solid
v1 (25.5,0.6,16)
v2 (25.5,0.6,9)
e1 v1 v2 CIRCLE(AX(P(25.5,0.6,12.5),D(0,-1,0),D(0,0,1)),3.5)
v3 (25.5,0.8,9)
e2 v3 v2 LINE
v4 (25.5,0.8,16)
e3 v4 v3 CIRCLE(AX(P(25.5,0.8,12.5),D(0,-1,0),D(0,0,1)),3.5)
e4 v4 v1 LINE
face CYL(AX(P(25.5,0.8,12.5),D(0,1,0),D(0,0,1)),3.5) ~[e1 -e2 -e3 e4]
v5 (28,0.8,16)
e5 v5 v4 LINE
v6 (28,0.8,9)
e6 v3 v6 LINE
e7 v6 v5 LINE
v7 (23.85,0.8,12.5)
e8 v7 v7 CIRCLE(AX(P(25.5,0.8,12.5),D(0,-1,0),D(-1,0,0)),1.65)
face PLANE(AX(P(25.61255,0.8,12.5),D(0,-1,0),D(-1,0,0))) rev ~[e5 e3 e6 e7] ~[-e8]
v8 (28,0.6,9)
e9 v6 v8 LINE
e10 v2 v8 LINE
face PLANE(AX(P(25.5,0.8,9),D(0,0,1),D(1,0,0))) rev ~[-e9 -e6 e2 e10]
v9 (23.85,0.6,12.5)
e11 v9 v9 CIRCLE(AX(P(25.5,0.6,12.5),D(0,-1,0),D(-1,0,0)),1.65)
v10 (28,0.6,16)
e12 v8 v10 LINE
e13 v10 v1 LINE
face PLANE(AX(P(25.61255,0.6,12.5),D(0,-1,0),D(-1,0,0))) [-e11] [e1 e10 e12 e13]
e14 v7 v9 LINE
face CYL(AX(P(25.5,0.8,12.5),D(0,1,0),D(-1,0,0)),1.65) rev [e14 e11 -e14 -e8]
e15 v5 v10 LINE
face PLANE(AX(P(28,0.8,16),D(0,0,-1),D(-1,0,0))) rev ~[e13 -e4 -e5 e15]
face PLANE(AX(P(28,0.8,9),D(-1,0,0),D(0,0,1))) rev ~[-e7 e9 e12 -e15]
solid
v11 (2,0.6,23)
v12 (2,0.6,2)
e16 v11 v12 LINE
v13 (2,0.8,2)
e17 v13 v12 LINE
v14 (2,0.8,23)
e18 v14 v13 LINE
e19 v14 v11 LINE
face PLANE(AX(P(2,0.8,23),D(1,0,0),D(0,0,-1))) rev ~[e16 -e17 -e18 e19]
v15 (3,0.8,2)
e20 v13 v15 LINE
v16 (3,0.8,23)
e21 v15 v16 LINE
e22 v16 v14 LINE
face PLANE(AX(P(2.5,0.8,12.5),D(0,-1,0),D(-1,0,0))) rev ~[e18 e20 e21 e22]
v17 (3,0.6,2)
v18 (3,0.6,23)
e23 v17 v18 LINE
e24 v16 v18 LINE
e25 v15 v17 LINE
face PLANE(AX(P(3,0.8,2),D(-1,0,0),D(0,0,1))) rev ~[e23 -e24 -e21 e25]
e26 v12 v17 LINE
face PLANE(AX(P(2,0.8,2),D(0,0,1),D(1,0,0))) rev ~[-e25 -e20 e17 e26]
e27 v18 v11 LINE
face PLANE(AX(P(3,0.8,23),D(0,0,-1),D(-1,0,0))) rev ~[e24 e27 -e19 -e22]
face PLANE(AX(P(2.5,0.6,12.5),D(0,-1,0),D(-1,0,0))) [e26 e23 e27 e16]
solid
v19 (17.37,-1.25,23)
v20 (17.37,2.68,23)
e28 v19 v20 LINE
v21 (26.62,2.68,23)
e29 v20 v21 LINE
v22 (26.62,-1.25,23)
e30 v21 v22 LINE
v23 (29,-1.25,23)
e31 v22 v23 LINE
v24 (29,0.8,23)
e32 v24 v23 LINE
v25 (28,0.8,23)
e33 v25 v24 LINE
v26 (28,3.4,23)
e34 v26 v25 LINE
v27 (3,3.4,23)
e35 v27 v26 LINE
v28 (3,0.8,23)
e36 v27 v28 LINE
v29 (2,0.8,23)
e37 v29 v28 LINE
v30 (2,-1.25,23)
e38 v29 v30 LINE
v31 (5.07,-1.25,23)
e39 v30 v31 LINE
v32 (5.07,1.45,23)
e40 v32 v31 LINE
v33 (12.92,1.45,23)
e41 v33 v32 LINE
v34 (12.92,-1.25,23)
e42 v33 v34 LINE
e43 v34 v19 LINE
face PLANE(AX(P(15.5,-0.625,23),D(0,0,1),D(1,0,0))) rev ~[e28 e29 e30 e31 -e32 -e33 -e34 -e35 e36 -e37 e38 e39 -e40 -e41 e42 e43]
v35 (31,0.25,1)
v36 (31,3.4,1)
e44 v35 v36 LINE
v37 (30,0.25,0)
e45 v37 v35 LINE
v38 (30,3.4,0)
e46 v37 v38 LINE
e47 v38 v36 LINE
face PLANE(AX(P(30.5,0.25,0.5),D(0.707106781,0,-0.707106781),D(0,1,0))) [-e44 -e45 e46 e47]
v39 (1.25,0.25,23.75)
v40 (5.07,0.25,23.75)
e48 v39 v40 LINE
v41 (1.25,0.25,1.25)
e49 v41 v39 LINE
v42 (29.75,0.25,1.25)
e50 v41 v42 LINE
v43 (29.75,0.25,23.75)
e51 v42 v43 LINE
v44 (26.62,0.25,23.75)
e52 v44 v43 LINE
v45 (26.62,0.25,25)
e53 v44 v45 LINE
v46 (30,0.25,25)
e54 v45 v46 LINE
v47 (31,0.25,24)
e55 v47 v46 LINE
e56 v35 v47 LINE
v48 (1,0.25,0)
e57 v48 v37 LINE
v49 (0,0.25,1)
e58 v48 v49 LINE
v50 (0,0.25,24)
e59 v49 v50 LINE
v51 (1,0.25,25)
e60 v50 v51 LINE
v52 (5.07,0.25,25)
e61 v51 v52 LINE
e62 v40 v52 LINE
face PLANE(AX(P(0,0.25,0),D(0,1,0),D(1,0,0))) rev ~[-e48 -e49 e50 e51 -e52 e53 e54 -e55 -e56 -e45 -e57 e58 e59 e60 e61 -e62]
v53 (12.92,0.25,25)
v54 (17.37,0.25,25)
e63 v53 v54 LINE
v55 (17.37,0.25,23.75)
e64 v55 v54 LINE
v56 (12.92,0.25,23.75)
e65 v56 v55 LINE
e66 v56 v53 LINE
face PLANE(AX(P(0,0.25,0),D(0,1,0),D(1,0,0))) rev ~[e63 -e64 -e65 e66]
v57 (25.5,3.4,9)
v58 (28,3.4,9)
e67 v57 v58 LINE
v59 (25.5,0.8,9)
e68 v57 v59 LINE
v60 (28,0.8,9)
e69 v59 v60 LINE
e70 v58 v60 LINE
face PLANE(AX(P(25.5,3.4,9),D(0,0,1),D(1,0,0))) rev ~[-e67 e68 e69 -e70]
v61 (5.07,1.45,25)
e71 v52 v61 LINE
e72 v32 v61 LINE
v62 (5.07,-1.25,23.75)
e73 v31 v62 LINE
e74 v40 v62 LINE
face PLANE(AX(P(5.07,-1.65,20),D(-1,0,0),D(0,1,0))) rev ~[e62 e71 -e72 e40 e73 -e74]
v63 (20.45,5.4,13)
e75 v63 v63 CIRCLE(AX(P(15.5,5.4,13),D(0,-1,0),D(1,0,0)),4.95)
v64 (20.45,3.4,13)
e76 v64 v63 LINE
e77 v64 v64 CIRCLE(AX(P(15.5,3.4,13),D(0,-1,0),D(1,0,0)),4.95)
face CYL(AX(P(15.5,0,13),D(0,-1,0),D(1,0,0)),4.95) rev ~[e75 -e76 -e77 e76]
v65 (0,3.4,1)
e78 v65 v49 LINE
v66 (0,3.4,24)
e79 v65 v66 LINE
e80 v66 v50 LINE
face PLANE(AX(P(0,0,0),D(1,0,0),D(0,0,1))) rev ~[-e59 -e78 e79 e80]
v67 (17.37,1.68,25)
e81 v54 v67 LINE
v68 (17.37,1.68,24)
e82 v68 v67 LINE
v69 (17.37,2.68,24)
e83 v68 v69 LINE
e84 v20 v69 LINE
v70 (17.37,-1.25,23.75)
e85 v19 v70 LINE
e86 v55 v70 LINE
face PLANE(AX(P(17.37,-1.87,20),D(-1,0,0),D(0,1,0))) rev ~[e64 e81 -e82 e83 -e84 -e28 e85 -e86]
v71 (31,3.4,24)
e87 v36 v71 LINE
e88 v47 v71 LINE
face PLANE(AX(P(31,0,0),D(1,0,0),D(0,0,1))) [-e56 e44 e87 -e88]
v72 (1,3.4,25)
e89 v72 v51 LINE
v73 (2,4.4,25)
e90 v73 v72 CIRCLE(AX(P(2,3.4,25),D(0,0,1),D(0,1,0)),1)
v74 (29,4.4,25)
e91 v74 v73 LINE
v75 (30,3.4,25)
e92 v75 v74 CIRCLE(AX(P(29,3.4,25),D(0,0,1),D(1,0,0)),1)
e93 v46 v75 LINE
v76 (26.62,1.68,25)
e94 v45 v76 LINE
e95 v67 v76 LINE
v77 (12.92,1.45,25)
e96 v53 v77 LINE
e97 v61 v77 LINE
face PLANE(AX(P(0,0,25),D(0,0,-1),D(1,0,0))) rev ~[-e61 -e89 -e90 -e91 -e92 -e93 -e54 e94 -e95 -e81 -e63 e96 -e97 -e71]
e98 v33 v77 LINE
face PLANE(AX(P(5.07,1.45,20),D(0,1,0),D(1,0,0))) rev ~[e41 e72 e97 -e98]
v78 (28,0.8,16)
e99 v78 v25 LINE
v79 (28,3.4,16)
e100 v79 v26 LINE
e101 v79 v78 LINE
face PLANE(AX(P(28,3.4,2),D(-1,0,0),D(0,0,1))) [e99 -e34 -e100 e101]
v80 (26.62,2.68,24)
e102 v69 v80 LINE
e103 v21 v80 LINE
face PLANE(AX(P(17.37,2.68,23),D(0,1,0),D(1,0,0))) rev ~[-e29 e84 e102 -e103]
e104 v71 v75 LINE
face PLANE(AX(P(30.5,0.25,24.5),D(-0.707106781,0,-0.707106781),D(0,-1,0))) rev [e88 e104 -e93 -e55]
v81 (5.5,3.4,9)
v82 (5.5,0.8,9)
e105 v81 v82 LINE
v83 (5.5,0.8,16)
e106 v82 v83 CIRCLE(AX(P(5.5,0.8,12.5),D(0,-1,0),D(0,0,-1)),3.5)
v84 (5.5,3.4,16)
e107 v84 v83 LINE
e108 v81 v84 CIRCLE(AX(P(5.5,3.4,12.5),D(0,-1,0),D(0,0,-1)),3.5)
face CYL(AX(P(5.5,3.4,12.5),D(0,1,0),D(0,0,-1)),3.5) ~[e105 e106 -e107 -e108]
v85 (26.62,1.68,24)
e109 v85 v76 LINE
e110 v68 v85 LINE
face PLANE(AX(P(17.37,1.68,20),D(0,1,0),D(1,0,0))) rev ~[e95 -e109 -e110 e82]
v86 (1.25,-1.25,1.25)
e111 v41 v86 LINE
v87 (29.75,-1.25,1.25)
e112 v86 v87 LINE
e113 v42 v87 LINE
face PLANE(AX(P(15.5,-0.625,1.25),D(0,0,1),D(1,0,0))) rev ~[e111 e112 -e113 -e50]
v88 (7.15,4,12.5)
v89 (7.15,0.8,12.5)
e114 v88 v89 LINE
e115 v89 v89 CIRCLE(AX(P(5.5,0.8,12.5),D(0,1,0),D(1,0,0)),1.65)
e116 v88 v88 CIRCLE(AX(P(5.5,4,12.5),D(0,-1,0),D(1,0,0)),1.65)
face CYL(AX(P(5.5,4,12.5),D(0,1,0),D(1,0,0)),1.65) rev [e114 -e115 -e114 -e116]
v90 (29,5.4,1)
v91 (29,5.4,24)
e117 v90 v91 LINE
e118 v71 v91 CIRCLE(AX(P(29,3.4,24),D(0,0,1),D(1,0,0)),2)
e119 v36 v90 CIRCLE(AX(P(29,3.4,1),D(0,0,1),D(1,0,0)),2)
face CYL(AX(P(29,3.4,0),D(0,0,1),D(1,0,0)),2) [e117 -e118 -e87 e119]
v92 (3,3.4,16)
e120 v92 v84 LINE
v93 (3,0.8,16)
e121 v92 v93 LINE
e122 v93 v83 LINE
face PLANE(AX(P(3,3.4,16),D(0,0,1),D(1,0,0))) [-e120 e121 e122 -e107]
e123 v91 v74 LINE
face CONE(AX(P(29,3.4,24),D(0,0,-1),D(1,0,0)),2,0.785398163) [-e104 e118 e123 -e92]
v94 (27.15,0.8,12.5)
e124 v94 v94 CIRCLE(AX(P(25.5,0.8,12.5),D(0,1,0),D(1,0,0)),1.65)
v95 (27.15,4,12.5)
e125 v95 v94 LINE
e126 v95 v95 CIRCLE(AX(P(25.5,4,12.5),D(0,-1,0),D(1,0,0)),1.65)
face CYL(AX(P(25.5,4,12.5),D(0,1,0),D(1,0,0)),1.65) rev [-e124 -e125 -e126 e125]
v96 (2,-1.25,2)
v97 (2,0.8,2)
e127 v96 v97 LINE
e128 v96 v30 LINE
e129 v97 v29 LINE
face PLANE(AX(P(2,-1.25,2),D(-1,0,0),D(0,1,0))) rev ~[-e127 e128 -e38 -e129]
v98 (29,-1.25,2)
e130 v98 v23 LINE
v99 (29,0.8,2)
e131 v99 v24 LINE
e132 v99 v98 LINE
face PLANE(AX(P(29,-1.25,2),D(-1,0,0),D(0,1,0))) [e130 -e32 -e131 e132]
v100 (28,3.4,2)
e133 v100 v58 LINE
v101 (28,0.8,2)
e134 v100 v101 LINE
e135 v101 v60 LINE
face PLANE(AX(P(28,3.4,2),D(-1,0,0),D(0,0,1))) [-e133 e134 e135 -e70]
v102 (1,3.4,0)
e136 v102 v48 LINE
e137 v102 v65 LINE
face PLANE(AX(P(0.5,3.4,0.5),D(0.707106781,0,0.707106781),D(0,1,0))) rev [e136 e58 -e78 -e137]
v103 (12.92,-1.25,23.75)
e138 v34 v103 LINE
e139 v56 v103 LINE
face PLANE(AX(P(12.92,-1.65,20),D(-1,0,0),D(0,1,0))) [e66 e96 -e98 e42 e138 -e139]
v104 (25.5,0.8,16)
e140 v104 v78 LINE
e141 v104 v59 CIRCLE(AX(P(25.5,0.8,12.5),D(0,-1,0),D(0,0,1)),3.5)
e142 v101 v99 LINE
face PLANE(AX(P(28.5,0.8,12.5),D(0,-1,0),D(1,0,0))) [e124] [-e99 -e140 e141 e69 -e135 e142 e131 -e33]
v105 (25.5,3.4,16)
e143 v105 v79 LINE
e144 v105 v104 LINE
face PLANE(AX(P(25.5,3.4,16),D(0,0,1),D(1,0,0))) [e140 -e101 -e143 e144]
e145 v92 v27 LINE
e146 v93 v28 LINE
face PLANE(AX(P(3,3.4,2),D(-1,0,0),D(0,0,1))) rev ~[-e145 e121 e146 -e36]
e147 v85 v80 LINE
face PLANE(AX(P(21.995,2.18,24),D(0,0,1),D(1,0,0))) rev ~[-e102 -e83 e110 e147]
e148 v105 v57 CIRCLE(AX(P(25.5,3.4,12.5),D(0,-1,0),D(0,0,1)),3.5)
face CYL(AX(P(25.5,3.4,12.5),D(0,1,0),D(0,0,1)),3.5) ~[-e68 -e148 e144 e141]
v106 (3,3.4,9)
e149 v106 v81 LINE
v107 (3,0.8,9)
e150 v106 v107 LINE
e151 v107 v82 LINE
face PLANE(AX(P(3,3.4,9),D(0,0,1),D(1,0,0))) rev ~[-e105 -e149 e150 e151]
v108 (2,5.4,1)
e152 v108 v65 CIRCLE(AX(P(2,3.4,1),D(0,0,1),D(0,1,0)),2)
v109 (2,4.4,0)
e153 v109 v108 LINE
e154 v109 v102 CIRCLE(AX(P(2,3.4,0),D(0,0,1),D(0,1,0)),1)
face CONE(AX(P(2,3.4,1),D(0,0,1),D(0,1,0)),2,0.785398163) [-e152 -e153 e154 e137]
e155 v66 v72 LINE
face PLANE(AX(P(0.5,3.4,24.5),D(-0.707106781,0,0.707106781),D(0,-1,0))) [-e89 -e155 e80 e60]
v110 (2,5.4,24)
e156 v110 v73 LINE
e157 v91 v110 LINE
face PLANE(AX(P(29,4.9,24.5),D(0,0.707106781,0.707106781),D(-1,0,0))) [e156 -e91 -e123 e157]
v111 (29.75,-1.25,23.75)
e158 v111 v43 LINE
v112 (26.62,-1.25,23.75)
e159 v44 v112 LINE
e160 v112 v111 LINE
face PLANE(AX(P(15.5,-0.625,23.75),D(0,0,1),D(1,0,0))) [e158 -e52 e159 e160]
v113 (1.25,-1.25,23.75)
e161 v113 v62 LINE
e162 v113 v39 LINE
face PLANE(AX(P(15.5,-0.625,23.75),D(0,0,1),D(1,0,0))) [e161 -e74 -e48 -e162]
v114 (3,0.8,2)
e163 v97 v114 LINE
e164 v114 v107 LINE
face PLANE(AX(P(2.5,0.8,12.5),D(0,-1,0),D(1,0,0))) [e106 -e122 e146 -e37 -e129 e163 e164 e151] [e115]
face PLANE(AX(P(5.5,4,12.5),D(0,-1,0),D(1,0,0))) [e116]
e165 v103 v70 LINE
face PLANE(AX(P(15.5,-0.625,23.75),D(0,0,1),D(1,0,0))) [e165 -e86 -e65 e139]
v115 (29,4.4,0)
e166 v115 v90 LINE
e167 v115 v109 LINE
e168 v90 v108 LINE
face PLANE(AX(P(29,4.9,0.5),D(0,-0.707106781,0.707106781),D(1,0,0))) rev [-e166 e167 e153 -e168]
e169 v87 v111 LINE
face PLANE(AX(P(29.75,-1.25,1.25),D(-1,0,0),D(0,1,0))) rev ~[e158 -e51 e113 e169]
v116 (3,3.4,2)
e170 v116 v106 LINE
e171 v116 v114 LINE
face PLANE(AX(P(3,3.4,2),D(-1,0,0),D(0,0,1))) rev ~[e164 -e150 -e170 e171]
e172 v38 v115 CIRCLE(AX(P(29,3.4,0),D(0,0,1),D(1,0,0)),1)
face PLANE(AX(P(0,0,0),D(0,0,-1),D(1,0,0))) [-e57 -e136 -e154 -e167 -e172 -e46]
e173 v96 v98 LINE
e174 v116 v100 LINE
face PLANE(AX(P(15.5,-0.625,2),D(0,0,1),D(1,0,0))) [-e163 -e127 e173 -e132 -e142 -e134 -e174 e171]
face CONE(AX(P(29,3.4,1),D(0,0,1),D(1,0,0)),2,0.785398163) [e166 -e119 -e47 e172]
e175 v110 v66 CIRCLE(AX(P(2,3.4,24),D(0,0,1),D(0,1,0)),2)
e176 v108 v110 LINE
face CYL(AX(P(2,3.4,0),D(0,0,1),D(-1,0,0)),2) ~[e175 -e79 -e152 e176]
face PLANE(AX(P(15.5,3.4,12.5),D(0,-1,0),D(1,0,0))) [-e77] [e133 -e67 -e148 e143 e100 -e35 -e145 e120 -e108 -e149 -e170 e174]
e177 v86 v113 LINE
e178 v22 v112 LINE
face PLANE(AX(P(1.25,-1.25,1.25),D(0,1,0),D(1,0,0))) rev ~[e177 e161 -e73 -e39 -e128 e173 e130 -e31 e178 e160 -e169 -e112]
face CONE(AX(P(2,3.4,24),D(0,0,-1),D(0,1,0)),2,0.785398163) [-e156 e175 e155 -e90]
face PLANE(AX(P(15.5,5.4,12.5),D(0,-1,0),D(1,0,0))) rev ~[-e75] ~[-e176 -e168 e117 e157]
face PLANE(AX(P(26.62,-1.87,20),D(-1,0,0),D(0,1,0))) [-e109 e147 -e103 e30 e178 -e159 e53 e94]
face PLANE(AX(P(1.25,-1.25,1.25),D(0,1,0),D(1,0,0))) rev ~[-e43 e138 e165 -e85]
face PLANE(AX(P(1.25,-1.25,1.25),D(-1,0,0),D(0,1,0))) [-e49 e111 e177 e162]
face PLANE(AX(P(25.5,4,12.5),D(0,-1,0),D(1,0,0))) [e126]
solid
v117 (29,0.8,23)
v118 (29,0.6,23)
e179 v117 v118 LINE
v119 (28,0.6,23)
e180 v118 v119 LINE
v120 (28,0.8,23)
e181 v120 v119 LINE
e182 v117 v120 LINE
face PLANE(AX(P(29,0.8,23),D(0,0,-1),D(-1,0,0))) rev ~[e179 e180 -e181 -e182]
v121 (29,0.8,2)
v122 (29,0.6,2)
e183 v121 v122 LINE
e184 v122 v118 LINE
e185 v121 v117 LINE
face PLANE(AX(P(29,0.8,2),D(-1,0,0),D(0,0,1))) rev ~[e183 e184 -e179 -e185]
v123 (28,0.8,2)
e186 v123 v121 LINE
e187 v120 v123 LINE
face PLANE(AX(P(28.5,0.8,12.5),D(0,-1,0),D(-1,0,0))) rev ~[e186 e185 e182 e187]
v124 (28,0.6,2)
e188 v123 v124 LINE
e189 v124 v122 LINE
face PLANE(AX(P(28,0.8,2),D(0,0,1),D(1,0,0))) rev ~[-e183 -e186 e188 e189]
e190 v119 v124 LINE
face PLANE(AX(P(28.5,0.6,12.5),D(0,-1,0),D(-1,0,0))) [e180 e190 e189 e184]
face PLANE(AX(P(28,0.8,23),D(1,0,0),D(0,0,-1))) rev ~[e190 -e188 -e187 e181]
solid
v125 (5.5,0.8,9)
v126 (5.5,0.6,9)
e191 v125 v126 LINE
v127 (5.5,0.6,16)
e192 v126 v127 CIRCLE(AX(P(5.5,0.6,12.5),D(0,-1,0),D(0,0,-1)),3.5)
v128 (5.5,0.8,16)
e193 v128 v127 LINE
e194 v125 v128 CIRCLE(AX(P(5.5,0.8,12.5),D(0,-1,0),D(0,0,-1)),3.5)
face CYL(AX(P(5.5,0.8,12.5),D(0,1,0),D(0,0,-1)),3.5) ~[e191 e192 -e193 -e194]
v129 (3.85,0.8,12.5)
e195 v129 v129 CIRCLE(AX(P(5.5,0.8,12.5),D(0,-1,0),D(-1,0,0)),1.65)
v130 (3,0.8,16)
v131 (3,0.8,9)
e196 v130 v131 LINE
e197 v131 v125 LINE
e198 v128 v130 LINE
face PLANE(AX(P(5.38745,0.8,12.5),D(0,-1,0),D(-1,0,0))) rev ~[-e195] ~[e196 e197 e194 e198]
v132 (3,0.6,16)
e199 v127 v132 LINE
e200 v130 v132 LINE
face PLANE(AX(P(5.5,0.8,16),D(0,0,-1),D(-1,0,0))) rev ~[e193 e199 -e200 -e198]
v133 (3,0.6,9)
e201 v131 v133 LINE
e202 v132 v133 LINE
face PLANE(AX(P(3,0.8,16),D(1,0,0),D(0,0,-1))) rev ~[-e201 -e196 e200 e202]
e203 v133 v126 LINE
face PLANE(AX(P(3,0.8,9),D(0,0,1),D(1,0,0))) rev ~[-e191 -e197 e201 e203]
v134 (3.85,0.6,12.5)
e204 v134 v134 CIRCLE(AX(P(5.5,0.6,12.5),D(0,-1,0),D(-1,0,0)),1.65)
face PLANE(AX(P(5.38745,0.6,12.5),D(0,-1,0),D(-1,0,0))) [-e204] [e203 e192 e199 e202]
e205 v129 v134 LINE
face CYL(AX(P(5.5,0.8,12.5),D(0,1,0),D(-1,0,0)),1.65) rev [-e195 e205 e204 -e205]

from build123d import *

# Parameters (mm, degrees)
BOX_W              = 9.25
BOX_H              = 1
BOX_DEPTH          = 1
BOX007_W           = 7.85
BOX007_H           = 2.1
BOX007_DEPTH       = 10
BOX006_W           = 7.85
BOX006_H           = 2.1
BOX006_DEPTH       = 10
BOX008_W           = 9.25
BOX008_H           = 2.55
BOX008_DEPTH       = 10
BOX005_W           = 9.25
BOX005_H           = 2.55
BOX005_DEPTH       = 10
BOX004_W           = 28.5
BOX004_H           = 0.25
BOX004_DEPTH       = 22.5
BOX003_W           = 31
BOX003_H           = 0.25
BOX003_DEPTH       = 25
BOX002_W           = 27
BOX002_H           = 1.25
BOX002_DEPTH       = 21
BOX001_W           = 28.5
BOX001_H           = 1.25
BOX001_DEPTH       = 22.5
CYLINDER_R         = 1.65
CYLINDER_DEPTH     = 3.4
CYLINDER001_R      = 1.65
CYLINDER001_DEPTH  = 3.4
SKETCH_W           = 31
SKETCH_H           = 25
PAD_DEPTH          = 5.4
SKETCH003_W        = 27
SKETCH003_H        = 21
POCKET_DEPTH       = 3.4
SKETCH001_W        = 1
SKETCH001_H        = 21
PAD001_DEPTH       = 2.6
PAD002_DEPTH       = 2.6
SKETCH004_R        = 4.95
POCKET001_DEPTH    = 11
FILLET001_R        = 2
CHAMFER_SIZE       = 1
FACE_R             = 1.65
EXTRUSION_DEPTH    = 0.2
EXTRUSION001_DEPTH = 0.2
FACE004_R          = 1.65
EXTRUSION002_DEPTH = 0.2
EXTRUSION003_DEPTH = 0.2


with BuildPart() as typec_extra_space:
    # Box → Box (new body)
    with BuildSketch(Plane(origin=(17.37, 1.68, 23), x_dir=(1, 0, 0), z_dir=(0, 0, 1))):
        with Locations((4.625, 0.5)):
            Rectangle(BOX_W, BOX_H)
    extrude(amount=BOX_DEPTH)


with BuildPart() as micro_cutout_upper:
    # Box007 → Box007 (new body)
    with BuildSketch(Plane(origin=(5.07, -1.65, 20), x_dir=(1, 0, 0), z_dir=(0, 0, 1))):
        with Locations((3.925, 1.05)):
            Rectangle(BOX007_W, BOX007_H)
    extrude(amount=BOX007_DEPTH)


with BuildPart() as fusion003:
    # Box006 → Box006 (new body)
    with BuildSketch(Plane(origin=(5.07, -0.65, 20), x_dir=(1, 0, 0), z_dir=(0, 0, 1))):
        with Locations((3.925, 1.05)):
            Rectangle(BOX006_W, BOX006_H)
    extrude(amount=BOX006_DEPTH)

    # Fusion003: union Micro_cutout_upper
    add(micro_cutout_upper.part)


with BuildPart() as typec_cutout_upper:
    # Box008 → Box008 (new body)
    with BuildSketch(Plane(origin=(17.37, -1.87, 20), x_dir=(1, 0, 0), z_dir=(0, 0, 1))):
        with Locations((4.625, 1.275)):
            Rectangle(BOX008_W, BOX008_H)
    extrude(amount=BOX008_DEPTH)


with BuildPart() as fusion002:
    # Box005 → Box005 (new body)
    with BuildSketch(Plane(origin=(17.37, -0.87, 20), x_dir=(1, 0, 0), z_dir=(0, 0, 1))):
        with Locations((4.625, 1.275)):
            Rectangle(BOX005_W, BOX005_H)
    extrude(amount=BOX005_DEPTH)

    # Fusion002: union TypeC_cutout_upper
    add(typec_cutout_upper.part)


with BuildPart() as cube004:
    # Box004 → Box004 (new body)
    with BuildSketch(Plane(origin=(1.25, 0, 1.25), x_dir=(1, 0, 0), z_dir=(0, 0, 1))):
        with Locations((14.25, 0.125)):
            Rectangle(BOX004_W, BOX004_H)
    extrude(amount=BOX004_DEPTH)


with BuildPart() as cut002:
    # Box003 → Box003 (new body)
    with BuildSketch(Plane.XY):
        with Locations((15.5, 0.125)):
            Rectangle(BOX003_W, BOX003_H)
    extrude(amount=BOX003_DEPTH)

    # Cut002: cut Cube004
    add(cube004.part, mode=Mode.SUBTRACT)


with BuildPart() as cube002:
    # Box002 → Box002 (new body)
    with BuildSketch(Plane(origin=(2, 0, 2), x_dir=(1, 0, 0), z_dir=(0, 0, 1))):
        with Locations((13.5, 0.625)):
            Rectangle(BOX002_W, BOX002_H)
    extrude(amount=BOX002_DEPTH)


with BuildPart() as latch:
    # Box001 → Box001 (new body)
    with BuildSketch(Plane(origin=(1.25, 0, 1.25), x_dir=(1, 0, 0), z_dir=(0, 0, 1))):
        with Locations((14.25, 0.625)):
            Rectangle(BOX001_W, BOX001_H)
    extrude(amount=BOX001_DEPTH)

    # Cut001: cut Cube002
    add(cube002.part, mode=Mode.SUBTRACT)


with BuildPart() as latch_1:
    # Cut001 placement: moved
    add(latch.part.moved(Location((0, -1.25, 0))))


with BuildPart() as leftscrewhole:
    # Cylinder → Cylinder (new body)
    with BuildSketch(Plane(origin=(25.5, 4, 13), x_dir=(1, 0, 0), z_dir=(0, -1, 0))):
        Circle(CYLINDER_R)
    extrude(amount=CYLINDER_DEPTH)


with BuildPart() as screwholecutout:
    # Cylinder001 → Cylinder001 (new body)
    with BuildSketch(Plane(origin=(5.5, 4, 13), x_dir=(1, 0, 0), z_dir=(0, -1, 0))):
        Circle(CYLINDER001_R)
    extrude(amount=CYLINDER001_DEPTH)

    # Fusion001: union leftScrewHole
    add(leftscrewhole.part)


with BuildPart() as screwholecutout_1:
    # Fusion001 placement: moved
    add(screwholecutout.part.moved(Location((0, 0, -0.5))))


with BuildPart() as cut006:
    # Sketch → Pad (new body)
    with BuildSketch(Plane.XZ):
        with Locations((15.5, 12.5)):
            Rectangle(SKETCH_W, SKETCH_H)
    extrude(amount=-PAD_DEPTH)

    # Sketch003 → Pocket (cut)
    with BuildSketch(Plane.XZ):
        with Locations((15.5, 12.5)):
            Rectangle(SKETCH003_W, SKETCH003_H)
    extrude(amount=-POCKET_DEPTH, mode=Mode.SUBTRACT)

    # Sketch001 → Pad001 (join)
    with BuildSketch(Plane.XZ.offset(-3.4)):
        with Locations((28.5, 12.5)):
            Rectangle(SKETCH001_W, SKETCH001_H)
        with Locations((2.5, 12.5)):
            Rectangle(SKETCH001_W, SKETCH001_H)
    extrude(amount=PAD001_DEPTH)

    # Sketch002 → Pad002 (join)
    with BuildSketch(Plane.XZ.offset(-3.4)):
        with BuildLine():
            Line((3, 16), (5.5, 16))
            ThreePointArc((5.5, 9), (9, 12.5), (5.5, 16))
            Line((3, 9), (5.5, 9))
            Line((3, 16), (3, 9))
        make_face()
        with BuildLine():
            Line((25.5, 16), (28, 16))
            Line((28, 16), (28, 9))
            Line((25.5, 9), (28, 9))
            ThreePointArc((25.5, 16), (22, 12.5), (25.5, 9))
        make_face()
    extrude(amount=PAD002_DEPTH)

    # Sketch004 → Pocket001 (cut)
    with BuildSketch(Plane.XZ):
        with Locations((15.5, 13)):
            Circle(SKETCH004_R)
    extrude(amount=-POCKET001_DEPTH, mode=Mode.SUBTRACT)

    # Cut: cut screwHoleCutout
    add(screwholecutout_1.part, mode=Mode.SUBTRACT)

    # Fusion: union latch
    add(latch_1.part)

    # Cut003: cut Cut002
    add(cut002.part, mode=Mode.SUBTRACT)

    # Cut004: cut Fusion002
    add(fusion002.part, mode=Mode.SUBTRACT)

    # Cut005: cut Fusion003
    add(fusion003.part, mode=Mode.SUBTRACT)

    # Fillet001
    fillet001_edges = [cut006.edges().sort_by_distance(p)[0] for p in [
        (31, 5.4, 12.5),
        (0, 5.4, 12.5),
    ]]
    fillet(fillet001_edges, radius=FILLET001_R)

    # Chamfer
    chamfer_edges = [cut006.edges().sort_by_distance(p)[0] for p in [
        (31, 1.825, 0),
        (30.414214, 4.814214, 0),
        (15.5, 5.4, 0),
        (0, 1.825, 0),
        (0.585786, 4.814214, 0),
        (31, 1.825, 25),
        (30.414214, 4.814214, 25),
        (15.5, 5.4, 25),
        (0, 1.825, 25),
        (0.585786, 4.814214, 25),
    ]]
    chamfer(chamfer_edges, length=CHAMFER_SIZE)

    # Cut006: cut TypeC_extra_space
    add(typec_extra_space.part, mode=Mode.SUBTRACT)


with BuildPart() as extrusion:
    # Face → Extrusion (new body)
    with BuildSketch(Plane(origin=(5.737975, 0.8, 12.5), x_dir=(-1, 0, 0), z_dir=(0, -1, 0))):
        with BuildLine():
            Line((2.737975, -3.5), (2.737975, 3.5))
            Line((2.737975, 3.5), (0.237975, 3.5))
            ThreePointArc((0.237975, 3.5), (-3.262025, 0), (0.237975, -3.5))
            Line((0.237975, -3.5), (2.737975, -3.5))
        make_face()
        with Locations((0.237975, 0)):
            Circle(FACE_R, mode=Mode.SUBTRACT)
    extrude(amount=EXTRUSION_DEPTH)


with BuildPart() as extrusion001:
    # Face001 → Extrusion001 (new body)
    with BuildSketch(Plane(origin=(2.5, 0.8, 12.5), x_dir=(-1, 0, 0), z_dir=(0, -1, 0))):
        Polygon((-0.5, -10.5), (0.5, -10.5), (0.5, 10.5), (-0.5, 10.5), (-0.5, 3.5), (-0.5, -3.5), align=None)
    extrude(amount=EXTRUSION001_DEPTH)


with BuildPart() as extrusion002:
    # Face004 → Extrusion002 (new body)
    with BuildSketch(Plane(origin=(25.262025, 0.8, 12.5), x_dir=(-1, 0, 0), z_dir=(0, -1, 0))):
        with BuildLine():
            Line((-2.737975, -3.5), (-0.237975, -3.5))
            ThreePointArc((-0.237975, -3.5), (3.262025, 0), (-0.237975, 3.5))
            Line((-0.237975, 3.5), (-2.737975, 3.5))
            Line((-2.737975, 3.5), (-2.737975, -3.5))
        make_face()
        with Locations((-0.237975, 0)):
            Circle(FACE004_R, mode=Mode.SUBTRACT)
    extrude(amount=EXTRUSION002_DEPTH)


with BuildPart() as extrusion003:
    # Face005 → Extrusion003 (new body)
    with BuildSketch(Plane(origin=(28.5, 0.8, 12.5), x_dir=(-1, 0, 0), z_dir=(0, -1, 0))):
        Polygon((-0.5, 10.5), (-0.5, -10.5), (0.5, -10.5), (0.5, -3.5), (0.5, 3.5), (0.5, 10.5), align=None)
    extrude(amount=EXTRUSION003_DEPTH)


solid = Compound([cut006.part, extrusion.part, extrusion001.part, extrusion002.part, extrusion003.part])
